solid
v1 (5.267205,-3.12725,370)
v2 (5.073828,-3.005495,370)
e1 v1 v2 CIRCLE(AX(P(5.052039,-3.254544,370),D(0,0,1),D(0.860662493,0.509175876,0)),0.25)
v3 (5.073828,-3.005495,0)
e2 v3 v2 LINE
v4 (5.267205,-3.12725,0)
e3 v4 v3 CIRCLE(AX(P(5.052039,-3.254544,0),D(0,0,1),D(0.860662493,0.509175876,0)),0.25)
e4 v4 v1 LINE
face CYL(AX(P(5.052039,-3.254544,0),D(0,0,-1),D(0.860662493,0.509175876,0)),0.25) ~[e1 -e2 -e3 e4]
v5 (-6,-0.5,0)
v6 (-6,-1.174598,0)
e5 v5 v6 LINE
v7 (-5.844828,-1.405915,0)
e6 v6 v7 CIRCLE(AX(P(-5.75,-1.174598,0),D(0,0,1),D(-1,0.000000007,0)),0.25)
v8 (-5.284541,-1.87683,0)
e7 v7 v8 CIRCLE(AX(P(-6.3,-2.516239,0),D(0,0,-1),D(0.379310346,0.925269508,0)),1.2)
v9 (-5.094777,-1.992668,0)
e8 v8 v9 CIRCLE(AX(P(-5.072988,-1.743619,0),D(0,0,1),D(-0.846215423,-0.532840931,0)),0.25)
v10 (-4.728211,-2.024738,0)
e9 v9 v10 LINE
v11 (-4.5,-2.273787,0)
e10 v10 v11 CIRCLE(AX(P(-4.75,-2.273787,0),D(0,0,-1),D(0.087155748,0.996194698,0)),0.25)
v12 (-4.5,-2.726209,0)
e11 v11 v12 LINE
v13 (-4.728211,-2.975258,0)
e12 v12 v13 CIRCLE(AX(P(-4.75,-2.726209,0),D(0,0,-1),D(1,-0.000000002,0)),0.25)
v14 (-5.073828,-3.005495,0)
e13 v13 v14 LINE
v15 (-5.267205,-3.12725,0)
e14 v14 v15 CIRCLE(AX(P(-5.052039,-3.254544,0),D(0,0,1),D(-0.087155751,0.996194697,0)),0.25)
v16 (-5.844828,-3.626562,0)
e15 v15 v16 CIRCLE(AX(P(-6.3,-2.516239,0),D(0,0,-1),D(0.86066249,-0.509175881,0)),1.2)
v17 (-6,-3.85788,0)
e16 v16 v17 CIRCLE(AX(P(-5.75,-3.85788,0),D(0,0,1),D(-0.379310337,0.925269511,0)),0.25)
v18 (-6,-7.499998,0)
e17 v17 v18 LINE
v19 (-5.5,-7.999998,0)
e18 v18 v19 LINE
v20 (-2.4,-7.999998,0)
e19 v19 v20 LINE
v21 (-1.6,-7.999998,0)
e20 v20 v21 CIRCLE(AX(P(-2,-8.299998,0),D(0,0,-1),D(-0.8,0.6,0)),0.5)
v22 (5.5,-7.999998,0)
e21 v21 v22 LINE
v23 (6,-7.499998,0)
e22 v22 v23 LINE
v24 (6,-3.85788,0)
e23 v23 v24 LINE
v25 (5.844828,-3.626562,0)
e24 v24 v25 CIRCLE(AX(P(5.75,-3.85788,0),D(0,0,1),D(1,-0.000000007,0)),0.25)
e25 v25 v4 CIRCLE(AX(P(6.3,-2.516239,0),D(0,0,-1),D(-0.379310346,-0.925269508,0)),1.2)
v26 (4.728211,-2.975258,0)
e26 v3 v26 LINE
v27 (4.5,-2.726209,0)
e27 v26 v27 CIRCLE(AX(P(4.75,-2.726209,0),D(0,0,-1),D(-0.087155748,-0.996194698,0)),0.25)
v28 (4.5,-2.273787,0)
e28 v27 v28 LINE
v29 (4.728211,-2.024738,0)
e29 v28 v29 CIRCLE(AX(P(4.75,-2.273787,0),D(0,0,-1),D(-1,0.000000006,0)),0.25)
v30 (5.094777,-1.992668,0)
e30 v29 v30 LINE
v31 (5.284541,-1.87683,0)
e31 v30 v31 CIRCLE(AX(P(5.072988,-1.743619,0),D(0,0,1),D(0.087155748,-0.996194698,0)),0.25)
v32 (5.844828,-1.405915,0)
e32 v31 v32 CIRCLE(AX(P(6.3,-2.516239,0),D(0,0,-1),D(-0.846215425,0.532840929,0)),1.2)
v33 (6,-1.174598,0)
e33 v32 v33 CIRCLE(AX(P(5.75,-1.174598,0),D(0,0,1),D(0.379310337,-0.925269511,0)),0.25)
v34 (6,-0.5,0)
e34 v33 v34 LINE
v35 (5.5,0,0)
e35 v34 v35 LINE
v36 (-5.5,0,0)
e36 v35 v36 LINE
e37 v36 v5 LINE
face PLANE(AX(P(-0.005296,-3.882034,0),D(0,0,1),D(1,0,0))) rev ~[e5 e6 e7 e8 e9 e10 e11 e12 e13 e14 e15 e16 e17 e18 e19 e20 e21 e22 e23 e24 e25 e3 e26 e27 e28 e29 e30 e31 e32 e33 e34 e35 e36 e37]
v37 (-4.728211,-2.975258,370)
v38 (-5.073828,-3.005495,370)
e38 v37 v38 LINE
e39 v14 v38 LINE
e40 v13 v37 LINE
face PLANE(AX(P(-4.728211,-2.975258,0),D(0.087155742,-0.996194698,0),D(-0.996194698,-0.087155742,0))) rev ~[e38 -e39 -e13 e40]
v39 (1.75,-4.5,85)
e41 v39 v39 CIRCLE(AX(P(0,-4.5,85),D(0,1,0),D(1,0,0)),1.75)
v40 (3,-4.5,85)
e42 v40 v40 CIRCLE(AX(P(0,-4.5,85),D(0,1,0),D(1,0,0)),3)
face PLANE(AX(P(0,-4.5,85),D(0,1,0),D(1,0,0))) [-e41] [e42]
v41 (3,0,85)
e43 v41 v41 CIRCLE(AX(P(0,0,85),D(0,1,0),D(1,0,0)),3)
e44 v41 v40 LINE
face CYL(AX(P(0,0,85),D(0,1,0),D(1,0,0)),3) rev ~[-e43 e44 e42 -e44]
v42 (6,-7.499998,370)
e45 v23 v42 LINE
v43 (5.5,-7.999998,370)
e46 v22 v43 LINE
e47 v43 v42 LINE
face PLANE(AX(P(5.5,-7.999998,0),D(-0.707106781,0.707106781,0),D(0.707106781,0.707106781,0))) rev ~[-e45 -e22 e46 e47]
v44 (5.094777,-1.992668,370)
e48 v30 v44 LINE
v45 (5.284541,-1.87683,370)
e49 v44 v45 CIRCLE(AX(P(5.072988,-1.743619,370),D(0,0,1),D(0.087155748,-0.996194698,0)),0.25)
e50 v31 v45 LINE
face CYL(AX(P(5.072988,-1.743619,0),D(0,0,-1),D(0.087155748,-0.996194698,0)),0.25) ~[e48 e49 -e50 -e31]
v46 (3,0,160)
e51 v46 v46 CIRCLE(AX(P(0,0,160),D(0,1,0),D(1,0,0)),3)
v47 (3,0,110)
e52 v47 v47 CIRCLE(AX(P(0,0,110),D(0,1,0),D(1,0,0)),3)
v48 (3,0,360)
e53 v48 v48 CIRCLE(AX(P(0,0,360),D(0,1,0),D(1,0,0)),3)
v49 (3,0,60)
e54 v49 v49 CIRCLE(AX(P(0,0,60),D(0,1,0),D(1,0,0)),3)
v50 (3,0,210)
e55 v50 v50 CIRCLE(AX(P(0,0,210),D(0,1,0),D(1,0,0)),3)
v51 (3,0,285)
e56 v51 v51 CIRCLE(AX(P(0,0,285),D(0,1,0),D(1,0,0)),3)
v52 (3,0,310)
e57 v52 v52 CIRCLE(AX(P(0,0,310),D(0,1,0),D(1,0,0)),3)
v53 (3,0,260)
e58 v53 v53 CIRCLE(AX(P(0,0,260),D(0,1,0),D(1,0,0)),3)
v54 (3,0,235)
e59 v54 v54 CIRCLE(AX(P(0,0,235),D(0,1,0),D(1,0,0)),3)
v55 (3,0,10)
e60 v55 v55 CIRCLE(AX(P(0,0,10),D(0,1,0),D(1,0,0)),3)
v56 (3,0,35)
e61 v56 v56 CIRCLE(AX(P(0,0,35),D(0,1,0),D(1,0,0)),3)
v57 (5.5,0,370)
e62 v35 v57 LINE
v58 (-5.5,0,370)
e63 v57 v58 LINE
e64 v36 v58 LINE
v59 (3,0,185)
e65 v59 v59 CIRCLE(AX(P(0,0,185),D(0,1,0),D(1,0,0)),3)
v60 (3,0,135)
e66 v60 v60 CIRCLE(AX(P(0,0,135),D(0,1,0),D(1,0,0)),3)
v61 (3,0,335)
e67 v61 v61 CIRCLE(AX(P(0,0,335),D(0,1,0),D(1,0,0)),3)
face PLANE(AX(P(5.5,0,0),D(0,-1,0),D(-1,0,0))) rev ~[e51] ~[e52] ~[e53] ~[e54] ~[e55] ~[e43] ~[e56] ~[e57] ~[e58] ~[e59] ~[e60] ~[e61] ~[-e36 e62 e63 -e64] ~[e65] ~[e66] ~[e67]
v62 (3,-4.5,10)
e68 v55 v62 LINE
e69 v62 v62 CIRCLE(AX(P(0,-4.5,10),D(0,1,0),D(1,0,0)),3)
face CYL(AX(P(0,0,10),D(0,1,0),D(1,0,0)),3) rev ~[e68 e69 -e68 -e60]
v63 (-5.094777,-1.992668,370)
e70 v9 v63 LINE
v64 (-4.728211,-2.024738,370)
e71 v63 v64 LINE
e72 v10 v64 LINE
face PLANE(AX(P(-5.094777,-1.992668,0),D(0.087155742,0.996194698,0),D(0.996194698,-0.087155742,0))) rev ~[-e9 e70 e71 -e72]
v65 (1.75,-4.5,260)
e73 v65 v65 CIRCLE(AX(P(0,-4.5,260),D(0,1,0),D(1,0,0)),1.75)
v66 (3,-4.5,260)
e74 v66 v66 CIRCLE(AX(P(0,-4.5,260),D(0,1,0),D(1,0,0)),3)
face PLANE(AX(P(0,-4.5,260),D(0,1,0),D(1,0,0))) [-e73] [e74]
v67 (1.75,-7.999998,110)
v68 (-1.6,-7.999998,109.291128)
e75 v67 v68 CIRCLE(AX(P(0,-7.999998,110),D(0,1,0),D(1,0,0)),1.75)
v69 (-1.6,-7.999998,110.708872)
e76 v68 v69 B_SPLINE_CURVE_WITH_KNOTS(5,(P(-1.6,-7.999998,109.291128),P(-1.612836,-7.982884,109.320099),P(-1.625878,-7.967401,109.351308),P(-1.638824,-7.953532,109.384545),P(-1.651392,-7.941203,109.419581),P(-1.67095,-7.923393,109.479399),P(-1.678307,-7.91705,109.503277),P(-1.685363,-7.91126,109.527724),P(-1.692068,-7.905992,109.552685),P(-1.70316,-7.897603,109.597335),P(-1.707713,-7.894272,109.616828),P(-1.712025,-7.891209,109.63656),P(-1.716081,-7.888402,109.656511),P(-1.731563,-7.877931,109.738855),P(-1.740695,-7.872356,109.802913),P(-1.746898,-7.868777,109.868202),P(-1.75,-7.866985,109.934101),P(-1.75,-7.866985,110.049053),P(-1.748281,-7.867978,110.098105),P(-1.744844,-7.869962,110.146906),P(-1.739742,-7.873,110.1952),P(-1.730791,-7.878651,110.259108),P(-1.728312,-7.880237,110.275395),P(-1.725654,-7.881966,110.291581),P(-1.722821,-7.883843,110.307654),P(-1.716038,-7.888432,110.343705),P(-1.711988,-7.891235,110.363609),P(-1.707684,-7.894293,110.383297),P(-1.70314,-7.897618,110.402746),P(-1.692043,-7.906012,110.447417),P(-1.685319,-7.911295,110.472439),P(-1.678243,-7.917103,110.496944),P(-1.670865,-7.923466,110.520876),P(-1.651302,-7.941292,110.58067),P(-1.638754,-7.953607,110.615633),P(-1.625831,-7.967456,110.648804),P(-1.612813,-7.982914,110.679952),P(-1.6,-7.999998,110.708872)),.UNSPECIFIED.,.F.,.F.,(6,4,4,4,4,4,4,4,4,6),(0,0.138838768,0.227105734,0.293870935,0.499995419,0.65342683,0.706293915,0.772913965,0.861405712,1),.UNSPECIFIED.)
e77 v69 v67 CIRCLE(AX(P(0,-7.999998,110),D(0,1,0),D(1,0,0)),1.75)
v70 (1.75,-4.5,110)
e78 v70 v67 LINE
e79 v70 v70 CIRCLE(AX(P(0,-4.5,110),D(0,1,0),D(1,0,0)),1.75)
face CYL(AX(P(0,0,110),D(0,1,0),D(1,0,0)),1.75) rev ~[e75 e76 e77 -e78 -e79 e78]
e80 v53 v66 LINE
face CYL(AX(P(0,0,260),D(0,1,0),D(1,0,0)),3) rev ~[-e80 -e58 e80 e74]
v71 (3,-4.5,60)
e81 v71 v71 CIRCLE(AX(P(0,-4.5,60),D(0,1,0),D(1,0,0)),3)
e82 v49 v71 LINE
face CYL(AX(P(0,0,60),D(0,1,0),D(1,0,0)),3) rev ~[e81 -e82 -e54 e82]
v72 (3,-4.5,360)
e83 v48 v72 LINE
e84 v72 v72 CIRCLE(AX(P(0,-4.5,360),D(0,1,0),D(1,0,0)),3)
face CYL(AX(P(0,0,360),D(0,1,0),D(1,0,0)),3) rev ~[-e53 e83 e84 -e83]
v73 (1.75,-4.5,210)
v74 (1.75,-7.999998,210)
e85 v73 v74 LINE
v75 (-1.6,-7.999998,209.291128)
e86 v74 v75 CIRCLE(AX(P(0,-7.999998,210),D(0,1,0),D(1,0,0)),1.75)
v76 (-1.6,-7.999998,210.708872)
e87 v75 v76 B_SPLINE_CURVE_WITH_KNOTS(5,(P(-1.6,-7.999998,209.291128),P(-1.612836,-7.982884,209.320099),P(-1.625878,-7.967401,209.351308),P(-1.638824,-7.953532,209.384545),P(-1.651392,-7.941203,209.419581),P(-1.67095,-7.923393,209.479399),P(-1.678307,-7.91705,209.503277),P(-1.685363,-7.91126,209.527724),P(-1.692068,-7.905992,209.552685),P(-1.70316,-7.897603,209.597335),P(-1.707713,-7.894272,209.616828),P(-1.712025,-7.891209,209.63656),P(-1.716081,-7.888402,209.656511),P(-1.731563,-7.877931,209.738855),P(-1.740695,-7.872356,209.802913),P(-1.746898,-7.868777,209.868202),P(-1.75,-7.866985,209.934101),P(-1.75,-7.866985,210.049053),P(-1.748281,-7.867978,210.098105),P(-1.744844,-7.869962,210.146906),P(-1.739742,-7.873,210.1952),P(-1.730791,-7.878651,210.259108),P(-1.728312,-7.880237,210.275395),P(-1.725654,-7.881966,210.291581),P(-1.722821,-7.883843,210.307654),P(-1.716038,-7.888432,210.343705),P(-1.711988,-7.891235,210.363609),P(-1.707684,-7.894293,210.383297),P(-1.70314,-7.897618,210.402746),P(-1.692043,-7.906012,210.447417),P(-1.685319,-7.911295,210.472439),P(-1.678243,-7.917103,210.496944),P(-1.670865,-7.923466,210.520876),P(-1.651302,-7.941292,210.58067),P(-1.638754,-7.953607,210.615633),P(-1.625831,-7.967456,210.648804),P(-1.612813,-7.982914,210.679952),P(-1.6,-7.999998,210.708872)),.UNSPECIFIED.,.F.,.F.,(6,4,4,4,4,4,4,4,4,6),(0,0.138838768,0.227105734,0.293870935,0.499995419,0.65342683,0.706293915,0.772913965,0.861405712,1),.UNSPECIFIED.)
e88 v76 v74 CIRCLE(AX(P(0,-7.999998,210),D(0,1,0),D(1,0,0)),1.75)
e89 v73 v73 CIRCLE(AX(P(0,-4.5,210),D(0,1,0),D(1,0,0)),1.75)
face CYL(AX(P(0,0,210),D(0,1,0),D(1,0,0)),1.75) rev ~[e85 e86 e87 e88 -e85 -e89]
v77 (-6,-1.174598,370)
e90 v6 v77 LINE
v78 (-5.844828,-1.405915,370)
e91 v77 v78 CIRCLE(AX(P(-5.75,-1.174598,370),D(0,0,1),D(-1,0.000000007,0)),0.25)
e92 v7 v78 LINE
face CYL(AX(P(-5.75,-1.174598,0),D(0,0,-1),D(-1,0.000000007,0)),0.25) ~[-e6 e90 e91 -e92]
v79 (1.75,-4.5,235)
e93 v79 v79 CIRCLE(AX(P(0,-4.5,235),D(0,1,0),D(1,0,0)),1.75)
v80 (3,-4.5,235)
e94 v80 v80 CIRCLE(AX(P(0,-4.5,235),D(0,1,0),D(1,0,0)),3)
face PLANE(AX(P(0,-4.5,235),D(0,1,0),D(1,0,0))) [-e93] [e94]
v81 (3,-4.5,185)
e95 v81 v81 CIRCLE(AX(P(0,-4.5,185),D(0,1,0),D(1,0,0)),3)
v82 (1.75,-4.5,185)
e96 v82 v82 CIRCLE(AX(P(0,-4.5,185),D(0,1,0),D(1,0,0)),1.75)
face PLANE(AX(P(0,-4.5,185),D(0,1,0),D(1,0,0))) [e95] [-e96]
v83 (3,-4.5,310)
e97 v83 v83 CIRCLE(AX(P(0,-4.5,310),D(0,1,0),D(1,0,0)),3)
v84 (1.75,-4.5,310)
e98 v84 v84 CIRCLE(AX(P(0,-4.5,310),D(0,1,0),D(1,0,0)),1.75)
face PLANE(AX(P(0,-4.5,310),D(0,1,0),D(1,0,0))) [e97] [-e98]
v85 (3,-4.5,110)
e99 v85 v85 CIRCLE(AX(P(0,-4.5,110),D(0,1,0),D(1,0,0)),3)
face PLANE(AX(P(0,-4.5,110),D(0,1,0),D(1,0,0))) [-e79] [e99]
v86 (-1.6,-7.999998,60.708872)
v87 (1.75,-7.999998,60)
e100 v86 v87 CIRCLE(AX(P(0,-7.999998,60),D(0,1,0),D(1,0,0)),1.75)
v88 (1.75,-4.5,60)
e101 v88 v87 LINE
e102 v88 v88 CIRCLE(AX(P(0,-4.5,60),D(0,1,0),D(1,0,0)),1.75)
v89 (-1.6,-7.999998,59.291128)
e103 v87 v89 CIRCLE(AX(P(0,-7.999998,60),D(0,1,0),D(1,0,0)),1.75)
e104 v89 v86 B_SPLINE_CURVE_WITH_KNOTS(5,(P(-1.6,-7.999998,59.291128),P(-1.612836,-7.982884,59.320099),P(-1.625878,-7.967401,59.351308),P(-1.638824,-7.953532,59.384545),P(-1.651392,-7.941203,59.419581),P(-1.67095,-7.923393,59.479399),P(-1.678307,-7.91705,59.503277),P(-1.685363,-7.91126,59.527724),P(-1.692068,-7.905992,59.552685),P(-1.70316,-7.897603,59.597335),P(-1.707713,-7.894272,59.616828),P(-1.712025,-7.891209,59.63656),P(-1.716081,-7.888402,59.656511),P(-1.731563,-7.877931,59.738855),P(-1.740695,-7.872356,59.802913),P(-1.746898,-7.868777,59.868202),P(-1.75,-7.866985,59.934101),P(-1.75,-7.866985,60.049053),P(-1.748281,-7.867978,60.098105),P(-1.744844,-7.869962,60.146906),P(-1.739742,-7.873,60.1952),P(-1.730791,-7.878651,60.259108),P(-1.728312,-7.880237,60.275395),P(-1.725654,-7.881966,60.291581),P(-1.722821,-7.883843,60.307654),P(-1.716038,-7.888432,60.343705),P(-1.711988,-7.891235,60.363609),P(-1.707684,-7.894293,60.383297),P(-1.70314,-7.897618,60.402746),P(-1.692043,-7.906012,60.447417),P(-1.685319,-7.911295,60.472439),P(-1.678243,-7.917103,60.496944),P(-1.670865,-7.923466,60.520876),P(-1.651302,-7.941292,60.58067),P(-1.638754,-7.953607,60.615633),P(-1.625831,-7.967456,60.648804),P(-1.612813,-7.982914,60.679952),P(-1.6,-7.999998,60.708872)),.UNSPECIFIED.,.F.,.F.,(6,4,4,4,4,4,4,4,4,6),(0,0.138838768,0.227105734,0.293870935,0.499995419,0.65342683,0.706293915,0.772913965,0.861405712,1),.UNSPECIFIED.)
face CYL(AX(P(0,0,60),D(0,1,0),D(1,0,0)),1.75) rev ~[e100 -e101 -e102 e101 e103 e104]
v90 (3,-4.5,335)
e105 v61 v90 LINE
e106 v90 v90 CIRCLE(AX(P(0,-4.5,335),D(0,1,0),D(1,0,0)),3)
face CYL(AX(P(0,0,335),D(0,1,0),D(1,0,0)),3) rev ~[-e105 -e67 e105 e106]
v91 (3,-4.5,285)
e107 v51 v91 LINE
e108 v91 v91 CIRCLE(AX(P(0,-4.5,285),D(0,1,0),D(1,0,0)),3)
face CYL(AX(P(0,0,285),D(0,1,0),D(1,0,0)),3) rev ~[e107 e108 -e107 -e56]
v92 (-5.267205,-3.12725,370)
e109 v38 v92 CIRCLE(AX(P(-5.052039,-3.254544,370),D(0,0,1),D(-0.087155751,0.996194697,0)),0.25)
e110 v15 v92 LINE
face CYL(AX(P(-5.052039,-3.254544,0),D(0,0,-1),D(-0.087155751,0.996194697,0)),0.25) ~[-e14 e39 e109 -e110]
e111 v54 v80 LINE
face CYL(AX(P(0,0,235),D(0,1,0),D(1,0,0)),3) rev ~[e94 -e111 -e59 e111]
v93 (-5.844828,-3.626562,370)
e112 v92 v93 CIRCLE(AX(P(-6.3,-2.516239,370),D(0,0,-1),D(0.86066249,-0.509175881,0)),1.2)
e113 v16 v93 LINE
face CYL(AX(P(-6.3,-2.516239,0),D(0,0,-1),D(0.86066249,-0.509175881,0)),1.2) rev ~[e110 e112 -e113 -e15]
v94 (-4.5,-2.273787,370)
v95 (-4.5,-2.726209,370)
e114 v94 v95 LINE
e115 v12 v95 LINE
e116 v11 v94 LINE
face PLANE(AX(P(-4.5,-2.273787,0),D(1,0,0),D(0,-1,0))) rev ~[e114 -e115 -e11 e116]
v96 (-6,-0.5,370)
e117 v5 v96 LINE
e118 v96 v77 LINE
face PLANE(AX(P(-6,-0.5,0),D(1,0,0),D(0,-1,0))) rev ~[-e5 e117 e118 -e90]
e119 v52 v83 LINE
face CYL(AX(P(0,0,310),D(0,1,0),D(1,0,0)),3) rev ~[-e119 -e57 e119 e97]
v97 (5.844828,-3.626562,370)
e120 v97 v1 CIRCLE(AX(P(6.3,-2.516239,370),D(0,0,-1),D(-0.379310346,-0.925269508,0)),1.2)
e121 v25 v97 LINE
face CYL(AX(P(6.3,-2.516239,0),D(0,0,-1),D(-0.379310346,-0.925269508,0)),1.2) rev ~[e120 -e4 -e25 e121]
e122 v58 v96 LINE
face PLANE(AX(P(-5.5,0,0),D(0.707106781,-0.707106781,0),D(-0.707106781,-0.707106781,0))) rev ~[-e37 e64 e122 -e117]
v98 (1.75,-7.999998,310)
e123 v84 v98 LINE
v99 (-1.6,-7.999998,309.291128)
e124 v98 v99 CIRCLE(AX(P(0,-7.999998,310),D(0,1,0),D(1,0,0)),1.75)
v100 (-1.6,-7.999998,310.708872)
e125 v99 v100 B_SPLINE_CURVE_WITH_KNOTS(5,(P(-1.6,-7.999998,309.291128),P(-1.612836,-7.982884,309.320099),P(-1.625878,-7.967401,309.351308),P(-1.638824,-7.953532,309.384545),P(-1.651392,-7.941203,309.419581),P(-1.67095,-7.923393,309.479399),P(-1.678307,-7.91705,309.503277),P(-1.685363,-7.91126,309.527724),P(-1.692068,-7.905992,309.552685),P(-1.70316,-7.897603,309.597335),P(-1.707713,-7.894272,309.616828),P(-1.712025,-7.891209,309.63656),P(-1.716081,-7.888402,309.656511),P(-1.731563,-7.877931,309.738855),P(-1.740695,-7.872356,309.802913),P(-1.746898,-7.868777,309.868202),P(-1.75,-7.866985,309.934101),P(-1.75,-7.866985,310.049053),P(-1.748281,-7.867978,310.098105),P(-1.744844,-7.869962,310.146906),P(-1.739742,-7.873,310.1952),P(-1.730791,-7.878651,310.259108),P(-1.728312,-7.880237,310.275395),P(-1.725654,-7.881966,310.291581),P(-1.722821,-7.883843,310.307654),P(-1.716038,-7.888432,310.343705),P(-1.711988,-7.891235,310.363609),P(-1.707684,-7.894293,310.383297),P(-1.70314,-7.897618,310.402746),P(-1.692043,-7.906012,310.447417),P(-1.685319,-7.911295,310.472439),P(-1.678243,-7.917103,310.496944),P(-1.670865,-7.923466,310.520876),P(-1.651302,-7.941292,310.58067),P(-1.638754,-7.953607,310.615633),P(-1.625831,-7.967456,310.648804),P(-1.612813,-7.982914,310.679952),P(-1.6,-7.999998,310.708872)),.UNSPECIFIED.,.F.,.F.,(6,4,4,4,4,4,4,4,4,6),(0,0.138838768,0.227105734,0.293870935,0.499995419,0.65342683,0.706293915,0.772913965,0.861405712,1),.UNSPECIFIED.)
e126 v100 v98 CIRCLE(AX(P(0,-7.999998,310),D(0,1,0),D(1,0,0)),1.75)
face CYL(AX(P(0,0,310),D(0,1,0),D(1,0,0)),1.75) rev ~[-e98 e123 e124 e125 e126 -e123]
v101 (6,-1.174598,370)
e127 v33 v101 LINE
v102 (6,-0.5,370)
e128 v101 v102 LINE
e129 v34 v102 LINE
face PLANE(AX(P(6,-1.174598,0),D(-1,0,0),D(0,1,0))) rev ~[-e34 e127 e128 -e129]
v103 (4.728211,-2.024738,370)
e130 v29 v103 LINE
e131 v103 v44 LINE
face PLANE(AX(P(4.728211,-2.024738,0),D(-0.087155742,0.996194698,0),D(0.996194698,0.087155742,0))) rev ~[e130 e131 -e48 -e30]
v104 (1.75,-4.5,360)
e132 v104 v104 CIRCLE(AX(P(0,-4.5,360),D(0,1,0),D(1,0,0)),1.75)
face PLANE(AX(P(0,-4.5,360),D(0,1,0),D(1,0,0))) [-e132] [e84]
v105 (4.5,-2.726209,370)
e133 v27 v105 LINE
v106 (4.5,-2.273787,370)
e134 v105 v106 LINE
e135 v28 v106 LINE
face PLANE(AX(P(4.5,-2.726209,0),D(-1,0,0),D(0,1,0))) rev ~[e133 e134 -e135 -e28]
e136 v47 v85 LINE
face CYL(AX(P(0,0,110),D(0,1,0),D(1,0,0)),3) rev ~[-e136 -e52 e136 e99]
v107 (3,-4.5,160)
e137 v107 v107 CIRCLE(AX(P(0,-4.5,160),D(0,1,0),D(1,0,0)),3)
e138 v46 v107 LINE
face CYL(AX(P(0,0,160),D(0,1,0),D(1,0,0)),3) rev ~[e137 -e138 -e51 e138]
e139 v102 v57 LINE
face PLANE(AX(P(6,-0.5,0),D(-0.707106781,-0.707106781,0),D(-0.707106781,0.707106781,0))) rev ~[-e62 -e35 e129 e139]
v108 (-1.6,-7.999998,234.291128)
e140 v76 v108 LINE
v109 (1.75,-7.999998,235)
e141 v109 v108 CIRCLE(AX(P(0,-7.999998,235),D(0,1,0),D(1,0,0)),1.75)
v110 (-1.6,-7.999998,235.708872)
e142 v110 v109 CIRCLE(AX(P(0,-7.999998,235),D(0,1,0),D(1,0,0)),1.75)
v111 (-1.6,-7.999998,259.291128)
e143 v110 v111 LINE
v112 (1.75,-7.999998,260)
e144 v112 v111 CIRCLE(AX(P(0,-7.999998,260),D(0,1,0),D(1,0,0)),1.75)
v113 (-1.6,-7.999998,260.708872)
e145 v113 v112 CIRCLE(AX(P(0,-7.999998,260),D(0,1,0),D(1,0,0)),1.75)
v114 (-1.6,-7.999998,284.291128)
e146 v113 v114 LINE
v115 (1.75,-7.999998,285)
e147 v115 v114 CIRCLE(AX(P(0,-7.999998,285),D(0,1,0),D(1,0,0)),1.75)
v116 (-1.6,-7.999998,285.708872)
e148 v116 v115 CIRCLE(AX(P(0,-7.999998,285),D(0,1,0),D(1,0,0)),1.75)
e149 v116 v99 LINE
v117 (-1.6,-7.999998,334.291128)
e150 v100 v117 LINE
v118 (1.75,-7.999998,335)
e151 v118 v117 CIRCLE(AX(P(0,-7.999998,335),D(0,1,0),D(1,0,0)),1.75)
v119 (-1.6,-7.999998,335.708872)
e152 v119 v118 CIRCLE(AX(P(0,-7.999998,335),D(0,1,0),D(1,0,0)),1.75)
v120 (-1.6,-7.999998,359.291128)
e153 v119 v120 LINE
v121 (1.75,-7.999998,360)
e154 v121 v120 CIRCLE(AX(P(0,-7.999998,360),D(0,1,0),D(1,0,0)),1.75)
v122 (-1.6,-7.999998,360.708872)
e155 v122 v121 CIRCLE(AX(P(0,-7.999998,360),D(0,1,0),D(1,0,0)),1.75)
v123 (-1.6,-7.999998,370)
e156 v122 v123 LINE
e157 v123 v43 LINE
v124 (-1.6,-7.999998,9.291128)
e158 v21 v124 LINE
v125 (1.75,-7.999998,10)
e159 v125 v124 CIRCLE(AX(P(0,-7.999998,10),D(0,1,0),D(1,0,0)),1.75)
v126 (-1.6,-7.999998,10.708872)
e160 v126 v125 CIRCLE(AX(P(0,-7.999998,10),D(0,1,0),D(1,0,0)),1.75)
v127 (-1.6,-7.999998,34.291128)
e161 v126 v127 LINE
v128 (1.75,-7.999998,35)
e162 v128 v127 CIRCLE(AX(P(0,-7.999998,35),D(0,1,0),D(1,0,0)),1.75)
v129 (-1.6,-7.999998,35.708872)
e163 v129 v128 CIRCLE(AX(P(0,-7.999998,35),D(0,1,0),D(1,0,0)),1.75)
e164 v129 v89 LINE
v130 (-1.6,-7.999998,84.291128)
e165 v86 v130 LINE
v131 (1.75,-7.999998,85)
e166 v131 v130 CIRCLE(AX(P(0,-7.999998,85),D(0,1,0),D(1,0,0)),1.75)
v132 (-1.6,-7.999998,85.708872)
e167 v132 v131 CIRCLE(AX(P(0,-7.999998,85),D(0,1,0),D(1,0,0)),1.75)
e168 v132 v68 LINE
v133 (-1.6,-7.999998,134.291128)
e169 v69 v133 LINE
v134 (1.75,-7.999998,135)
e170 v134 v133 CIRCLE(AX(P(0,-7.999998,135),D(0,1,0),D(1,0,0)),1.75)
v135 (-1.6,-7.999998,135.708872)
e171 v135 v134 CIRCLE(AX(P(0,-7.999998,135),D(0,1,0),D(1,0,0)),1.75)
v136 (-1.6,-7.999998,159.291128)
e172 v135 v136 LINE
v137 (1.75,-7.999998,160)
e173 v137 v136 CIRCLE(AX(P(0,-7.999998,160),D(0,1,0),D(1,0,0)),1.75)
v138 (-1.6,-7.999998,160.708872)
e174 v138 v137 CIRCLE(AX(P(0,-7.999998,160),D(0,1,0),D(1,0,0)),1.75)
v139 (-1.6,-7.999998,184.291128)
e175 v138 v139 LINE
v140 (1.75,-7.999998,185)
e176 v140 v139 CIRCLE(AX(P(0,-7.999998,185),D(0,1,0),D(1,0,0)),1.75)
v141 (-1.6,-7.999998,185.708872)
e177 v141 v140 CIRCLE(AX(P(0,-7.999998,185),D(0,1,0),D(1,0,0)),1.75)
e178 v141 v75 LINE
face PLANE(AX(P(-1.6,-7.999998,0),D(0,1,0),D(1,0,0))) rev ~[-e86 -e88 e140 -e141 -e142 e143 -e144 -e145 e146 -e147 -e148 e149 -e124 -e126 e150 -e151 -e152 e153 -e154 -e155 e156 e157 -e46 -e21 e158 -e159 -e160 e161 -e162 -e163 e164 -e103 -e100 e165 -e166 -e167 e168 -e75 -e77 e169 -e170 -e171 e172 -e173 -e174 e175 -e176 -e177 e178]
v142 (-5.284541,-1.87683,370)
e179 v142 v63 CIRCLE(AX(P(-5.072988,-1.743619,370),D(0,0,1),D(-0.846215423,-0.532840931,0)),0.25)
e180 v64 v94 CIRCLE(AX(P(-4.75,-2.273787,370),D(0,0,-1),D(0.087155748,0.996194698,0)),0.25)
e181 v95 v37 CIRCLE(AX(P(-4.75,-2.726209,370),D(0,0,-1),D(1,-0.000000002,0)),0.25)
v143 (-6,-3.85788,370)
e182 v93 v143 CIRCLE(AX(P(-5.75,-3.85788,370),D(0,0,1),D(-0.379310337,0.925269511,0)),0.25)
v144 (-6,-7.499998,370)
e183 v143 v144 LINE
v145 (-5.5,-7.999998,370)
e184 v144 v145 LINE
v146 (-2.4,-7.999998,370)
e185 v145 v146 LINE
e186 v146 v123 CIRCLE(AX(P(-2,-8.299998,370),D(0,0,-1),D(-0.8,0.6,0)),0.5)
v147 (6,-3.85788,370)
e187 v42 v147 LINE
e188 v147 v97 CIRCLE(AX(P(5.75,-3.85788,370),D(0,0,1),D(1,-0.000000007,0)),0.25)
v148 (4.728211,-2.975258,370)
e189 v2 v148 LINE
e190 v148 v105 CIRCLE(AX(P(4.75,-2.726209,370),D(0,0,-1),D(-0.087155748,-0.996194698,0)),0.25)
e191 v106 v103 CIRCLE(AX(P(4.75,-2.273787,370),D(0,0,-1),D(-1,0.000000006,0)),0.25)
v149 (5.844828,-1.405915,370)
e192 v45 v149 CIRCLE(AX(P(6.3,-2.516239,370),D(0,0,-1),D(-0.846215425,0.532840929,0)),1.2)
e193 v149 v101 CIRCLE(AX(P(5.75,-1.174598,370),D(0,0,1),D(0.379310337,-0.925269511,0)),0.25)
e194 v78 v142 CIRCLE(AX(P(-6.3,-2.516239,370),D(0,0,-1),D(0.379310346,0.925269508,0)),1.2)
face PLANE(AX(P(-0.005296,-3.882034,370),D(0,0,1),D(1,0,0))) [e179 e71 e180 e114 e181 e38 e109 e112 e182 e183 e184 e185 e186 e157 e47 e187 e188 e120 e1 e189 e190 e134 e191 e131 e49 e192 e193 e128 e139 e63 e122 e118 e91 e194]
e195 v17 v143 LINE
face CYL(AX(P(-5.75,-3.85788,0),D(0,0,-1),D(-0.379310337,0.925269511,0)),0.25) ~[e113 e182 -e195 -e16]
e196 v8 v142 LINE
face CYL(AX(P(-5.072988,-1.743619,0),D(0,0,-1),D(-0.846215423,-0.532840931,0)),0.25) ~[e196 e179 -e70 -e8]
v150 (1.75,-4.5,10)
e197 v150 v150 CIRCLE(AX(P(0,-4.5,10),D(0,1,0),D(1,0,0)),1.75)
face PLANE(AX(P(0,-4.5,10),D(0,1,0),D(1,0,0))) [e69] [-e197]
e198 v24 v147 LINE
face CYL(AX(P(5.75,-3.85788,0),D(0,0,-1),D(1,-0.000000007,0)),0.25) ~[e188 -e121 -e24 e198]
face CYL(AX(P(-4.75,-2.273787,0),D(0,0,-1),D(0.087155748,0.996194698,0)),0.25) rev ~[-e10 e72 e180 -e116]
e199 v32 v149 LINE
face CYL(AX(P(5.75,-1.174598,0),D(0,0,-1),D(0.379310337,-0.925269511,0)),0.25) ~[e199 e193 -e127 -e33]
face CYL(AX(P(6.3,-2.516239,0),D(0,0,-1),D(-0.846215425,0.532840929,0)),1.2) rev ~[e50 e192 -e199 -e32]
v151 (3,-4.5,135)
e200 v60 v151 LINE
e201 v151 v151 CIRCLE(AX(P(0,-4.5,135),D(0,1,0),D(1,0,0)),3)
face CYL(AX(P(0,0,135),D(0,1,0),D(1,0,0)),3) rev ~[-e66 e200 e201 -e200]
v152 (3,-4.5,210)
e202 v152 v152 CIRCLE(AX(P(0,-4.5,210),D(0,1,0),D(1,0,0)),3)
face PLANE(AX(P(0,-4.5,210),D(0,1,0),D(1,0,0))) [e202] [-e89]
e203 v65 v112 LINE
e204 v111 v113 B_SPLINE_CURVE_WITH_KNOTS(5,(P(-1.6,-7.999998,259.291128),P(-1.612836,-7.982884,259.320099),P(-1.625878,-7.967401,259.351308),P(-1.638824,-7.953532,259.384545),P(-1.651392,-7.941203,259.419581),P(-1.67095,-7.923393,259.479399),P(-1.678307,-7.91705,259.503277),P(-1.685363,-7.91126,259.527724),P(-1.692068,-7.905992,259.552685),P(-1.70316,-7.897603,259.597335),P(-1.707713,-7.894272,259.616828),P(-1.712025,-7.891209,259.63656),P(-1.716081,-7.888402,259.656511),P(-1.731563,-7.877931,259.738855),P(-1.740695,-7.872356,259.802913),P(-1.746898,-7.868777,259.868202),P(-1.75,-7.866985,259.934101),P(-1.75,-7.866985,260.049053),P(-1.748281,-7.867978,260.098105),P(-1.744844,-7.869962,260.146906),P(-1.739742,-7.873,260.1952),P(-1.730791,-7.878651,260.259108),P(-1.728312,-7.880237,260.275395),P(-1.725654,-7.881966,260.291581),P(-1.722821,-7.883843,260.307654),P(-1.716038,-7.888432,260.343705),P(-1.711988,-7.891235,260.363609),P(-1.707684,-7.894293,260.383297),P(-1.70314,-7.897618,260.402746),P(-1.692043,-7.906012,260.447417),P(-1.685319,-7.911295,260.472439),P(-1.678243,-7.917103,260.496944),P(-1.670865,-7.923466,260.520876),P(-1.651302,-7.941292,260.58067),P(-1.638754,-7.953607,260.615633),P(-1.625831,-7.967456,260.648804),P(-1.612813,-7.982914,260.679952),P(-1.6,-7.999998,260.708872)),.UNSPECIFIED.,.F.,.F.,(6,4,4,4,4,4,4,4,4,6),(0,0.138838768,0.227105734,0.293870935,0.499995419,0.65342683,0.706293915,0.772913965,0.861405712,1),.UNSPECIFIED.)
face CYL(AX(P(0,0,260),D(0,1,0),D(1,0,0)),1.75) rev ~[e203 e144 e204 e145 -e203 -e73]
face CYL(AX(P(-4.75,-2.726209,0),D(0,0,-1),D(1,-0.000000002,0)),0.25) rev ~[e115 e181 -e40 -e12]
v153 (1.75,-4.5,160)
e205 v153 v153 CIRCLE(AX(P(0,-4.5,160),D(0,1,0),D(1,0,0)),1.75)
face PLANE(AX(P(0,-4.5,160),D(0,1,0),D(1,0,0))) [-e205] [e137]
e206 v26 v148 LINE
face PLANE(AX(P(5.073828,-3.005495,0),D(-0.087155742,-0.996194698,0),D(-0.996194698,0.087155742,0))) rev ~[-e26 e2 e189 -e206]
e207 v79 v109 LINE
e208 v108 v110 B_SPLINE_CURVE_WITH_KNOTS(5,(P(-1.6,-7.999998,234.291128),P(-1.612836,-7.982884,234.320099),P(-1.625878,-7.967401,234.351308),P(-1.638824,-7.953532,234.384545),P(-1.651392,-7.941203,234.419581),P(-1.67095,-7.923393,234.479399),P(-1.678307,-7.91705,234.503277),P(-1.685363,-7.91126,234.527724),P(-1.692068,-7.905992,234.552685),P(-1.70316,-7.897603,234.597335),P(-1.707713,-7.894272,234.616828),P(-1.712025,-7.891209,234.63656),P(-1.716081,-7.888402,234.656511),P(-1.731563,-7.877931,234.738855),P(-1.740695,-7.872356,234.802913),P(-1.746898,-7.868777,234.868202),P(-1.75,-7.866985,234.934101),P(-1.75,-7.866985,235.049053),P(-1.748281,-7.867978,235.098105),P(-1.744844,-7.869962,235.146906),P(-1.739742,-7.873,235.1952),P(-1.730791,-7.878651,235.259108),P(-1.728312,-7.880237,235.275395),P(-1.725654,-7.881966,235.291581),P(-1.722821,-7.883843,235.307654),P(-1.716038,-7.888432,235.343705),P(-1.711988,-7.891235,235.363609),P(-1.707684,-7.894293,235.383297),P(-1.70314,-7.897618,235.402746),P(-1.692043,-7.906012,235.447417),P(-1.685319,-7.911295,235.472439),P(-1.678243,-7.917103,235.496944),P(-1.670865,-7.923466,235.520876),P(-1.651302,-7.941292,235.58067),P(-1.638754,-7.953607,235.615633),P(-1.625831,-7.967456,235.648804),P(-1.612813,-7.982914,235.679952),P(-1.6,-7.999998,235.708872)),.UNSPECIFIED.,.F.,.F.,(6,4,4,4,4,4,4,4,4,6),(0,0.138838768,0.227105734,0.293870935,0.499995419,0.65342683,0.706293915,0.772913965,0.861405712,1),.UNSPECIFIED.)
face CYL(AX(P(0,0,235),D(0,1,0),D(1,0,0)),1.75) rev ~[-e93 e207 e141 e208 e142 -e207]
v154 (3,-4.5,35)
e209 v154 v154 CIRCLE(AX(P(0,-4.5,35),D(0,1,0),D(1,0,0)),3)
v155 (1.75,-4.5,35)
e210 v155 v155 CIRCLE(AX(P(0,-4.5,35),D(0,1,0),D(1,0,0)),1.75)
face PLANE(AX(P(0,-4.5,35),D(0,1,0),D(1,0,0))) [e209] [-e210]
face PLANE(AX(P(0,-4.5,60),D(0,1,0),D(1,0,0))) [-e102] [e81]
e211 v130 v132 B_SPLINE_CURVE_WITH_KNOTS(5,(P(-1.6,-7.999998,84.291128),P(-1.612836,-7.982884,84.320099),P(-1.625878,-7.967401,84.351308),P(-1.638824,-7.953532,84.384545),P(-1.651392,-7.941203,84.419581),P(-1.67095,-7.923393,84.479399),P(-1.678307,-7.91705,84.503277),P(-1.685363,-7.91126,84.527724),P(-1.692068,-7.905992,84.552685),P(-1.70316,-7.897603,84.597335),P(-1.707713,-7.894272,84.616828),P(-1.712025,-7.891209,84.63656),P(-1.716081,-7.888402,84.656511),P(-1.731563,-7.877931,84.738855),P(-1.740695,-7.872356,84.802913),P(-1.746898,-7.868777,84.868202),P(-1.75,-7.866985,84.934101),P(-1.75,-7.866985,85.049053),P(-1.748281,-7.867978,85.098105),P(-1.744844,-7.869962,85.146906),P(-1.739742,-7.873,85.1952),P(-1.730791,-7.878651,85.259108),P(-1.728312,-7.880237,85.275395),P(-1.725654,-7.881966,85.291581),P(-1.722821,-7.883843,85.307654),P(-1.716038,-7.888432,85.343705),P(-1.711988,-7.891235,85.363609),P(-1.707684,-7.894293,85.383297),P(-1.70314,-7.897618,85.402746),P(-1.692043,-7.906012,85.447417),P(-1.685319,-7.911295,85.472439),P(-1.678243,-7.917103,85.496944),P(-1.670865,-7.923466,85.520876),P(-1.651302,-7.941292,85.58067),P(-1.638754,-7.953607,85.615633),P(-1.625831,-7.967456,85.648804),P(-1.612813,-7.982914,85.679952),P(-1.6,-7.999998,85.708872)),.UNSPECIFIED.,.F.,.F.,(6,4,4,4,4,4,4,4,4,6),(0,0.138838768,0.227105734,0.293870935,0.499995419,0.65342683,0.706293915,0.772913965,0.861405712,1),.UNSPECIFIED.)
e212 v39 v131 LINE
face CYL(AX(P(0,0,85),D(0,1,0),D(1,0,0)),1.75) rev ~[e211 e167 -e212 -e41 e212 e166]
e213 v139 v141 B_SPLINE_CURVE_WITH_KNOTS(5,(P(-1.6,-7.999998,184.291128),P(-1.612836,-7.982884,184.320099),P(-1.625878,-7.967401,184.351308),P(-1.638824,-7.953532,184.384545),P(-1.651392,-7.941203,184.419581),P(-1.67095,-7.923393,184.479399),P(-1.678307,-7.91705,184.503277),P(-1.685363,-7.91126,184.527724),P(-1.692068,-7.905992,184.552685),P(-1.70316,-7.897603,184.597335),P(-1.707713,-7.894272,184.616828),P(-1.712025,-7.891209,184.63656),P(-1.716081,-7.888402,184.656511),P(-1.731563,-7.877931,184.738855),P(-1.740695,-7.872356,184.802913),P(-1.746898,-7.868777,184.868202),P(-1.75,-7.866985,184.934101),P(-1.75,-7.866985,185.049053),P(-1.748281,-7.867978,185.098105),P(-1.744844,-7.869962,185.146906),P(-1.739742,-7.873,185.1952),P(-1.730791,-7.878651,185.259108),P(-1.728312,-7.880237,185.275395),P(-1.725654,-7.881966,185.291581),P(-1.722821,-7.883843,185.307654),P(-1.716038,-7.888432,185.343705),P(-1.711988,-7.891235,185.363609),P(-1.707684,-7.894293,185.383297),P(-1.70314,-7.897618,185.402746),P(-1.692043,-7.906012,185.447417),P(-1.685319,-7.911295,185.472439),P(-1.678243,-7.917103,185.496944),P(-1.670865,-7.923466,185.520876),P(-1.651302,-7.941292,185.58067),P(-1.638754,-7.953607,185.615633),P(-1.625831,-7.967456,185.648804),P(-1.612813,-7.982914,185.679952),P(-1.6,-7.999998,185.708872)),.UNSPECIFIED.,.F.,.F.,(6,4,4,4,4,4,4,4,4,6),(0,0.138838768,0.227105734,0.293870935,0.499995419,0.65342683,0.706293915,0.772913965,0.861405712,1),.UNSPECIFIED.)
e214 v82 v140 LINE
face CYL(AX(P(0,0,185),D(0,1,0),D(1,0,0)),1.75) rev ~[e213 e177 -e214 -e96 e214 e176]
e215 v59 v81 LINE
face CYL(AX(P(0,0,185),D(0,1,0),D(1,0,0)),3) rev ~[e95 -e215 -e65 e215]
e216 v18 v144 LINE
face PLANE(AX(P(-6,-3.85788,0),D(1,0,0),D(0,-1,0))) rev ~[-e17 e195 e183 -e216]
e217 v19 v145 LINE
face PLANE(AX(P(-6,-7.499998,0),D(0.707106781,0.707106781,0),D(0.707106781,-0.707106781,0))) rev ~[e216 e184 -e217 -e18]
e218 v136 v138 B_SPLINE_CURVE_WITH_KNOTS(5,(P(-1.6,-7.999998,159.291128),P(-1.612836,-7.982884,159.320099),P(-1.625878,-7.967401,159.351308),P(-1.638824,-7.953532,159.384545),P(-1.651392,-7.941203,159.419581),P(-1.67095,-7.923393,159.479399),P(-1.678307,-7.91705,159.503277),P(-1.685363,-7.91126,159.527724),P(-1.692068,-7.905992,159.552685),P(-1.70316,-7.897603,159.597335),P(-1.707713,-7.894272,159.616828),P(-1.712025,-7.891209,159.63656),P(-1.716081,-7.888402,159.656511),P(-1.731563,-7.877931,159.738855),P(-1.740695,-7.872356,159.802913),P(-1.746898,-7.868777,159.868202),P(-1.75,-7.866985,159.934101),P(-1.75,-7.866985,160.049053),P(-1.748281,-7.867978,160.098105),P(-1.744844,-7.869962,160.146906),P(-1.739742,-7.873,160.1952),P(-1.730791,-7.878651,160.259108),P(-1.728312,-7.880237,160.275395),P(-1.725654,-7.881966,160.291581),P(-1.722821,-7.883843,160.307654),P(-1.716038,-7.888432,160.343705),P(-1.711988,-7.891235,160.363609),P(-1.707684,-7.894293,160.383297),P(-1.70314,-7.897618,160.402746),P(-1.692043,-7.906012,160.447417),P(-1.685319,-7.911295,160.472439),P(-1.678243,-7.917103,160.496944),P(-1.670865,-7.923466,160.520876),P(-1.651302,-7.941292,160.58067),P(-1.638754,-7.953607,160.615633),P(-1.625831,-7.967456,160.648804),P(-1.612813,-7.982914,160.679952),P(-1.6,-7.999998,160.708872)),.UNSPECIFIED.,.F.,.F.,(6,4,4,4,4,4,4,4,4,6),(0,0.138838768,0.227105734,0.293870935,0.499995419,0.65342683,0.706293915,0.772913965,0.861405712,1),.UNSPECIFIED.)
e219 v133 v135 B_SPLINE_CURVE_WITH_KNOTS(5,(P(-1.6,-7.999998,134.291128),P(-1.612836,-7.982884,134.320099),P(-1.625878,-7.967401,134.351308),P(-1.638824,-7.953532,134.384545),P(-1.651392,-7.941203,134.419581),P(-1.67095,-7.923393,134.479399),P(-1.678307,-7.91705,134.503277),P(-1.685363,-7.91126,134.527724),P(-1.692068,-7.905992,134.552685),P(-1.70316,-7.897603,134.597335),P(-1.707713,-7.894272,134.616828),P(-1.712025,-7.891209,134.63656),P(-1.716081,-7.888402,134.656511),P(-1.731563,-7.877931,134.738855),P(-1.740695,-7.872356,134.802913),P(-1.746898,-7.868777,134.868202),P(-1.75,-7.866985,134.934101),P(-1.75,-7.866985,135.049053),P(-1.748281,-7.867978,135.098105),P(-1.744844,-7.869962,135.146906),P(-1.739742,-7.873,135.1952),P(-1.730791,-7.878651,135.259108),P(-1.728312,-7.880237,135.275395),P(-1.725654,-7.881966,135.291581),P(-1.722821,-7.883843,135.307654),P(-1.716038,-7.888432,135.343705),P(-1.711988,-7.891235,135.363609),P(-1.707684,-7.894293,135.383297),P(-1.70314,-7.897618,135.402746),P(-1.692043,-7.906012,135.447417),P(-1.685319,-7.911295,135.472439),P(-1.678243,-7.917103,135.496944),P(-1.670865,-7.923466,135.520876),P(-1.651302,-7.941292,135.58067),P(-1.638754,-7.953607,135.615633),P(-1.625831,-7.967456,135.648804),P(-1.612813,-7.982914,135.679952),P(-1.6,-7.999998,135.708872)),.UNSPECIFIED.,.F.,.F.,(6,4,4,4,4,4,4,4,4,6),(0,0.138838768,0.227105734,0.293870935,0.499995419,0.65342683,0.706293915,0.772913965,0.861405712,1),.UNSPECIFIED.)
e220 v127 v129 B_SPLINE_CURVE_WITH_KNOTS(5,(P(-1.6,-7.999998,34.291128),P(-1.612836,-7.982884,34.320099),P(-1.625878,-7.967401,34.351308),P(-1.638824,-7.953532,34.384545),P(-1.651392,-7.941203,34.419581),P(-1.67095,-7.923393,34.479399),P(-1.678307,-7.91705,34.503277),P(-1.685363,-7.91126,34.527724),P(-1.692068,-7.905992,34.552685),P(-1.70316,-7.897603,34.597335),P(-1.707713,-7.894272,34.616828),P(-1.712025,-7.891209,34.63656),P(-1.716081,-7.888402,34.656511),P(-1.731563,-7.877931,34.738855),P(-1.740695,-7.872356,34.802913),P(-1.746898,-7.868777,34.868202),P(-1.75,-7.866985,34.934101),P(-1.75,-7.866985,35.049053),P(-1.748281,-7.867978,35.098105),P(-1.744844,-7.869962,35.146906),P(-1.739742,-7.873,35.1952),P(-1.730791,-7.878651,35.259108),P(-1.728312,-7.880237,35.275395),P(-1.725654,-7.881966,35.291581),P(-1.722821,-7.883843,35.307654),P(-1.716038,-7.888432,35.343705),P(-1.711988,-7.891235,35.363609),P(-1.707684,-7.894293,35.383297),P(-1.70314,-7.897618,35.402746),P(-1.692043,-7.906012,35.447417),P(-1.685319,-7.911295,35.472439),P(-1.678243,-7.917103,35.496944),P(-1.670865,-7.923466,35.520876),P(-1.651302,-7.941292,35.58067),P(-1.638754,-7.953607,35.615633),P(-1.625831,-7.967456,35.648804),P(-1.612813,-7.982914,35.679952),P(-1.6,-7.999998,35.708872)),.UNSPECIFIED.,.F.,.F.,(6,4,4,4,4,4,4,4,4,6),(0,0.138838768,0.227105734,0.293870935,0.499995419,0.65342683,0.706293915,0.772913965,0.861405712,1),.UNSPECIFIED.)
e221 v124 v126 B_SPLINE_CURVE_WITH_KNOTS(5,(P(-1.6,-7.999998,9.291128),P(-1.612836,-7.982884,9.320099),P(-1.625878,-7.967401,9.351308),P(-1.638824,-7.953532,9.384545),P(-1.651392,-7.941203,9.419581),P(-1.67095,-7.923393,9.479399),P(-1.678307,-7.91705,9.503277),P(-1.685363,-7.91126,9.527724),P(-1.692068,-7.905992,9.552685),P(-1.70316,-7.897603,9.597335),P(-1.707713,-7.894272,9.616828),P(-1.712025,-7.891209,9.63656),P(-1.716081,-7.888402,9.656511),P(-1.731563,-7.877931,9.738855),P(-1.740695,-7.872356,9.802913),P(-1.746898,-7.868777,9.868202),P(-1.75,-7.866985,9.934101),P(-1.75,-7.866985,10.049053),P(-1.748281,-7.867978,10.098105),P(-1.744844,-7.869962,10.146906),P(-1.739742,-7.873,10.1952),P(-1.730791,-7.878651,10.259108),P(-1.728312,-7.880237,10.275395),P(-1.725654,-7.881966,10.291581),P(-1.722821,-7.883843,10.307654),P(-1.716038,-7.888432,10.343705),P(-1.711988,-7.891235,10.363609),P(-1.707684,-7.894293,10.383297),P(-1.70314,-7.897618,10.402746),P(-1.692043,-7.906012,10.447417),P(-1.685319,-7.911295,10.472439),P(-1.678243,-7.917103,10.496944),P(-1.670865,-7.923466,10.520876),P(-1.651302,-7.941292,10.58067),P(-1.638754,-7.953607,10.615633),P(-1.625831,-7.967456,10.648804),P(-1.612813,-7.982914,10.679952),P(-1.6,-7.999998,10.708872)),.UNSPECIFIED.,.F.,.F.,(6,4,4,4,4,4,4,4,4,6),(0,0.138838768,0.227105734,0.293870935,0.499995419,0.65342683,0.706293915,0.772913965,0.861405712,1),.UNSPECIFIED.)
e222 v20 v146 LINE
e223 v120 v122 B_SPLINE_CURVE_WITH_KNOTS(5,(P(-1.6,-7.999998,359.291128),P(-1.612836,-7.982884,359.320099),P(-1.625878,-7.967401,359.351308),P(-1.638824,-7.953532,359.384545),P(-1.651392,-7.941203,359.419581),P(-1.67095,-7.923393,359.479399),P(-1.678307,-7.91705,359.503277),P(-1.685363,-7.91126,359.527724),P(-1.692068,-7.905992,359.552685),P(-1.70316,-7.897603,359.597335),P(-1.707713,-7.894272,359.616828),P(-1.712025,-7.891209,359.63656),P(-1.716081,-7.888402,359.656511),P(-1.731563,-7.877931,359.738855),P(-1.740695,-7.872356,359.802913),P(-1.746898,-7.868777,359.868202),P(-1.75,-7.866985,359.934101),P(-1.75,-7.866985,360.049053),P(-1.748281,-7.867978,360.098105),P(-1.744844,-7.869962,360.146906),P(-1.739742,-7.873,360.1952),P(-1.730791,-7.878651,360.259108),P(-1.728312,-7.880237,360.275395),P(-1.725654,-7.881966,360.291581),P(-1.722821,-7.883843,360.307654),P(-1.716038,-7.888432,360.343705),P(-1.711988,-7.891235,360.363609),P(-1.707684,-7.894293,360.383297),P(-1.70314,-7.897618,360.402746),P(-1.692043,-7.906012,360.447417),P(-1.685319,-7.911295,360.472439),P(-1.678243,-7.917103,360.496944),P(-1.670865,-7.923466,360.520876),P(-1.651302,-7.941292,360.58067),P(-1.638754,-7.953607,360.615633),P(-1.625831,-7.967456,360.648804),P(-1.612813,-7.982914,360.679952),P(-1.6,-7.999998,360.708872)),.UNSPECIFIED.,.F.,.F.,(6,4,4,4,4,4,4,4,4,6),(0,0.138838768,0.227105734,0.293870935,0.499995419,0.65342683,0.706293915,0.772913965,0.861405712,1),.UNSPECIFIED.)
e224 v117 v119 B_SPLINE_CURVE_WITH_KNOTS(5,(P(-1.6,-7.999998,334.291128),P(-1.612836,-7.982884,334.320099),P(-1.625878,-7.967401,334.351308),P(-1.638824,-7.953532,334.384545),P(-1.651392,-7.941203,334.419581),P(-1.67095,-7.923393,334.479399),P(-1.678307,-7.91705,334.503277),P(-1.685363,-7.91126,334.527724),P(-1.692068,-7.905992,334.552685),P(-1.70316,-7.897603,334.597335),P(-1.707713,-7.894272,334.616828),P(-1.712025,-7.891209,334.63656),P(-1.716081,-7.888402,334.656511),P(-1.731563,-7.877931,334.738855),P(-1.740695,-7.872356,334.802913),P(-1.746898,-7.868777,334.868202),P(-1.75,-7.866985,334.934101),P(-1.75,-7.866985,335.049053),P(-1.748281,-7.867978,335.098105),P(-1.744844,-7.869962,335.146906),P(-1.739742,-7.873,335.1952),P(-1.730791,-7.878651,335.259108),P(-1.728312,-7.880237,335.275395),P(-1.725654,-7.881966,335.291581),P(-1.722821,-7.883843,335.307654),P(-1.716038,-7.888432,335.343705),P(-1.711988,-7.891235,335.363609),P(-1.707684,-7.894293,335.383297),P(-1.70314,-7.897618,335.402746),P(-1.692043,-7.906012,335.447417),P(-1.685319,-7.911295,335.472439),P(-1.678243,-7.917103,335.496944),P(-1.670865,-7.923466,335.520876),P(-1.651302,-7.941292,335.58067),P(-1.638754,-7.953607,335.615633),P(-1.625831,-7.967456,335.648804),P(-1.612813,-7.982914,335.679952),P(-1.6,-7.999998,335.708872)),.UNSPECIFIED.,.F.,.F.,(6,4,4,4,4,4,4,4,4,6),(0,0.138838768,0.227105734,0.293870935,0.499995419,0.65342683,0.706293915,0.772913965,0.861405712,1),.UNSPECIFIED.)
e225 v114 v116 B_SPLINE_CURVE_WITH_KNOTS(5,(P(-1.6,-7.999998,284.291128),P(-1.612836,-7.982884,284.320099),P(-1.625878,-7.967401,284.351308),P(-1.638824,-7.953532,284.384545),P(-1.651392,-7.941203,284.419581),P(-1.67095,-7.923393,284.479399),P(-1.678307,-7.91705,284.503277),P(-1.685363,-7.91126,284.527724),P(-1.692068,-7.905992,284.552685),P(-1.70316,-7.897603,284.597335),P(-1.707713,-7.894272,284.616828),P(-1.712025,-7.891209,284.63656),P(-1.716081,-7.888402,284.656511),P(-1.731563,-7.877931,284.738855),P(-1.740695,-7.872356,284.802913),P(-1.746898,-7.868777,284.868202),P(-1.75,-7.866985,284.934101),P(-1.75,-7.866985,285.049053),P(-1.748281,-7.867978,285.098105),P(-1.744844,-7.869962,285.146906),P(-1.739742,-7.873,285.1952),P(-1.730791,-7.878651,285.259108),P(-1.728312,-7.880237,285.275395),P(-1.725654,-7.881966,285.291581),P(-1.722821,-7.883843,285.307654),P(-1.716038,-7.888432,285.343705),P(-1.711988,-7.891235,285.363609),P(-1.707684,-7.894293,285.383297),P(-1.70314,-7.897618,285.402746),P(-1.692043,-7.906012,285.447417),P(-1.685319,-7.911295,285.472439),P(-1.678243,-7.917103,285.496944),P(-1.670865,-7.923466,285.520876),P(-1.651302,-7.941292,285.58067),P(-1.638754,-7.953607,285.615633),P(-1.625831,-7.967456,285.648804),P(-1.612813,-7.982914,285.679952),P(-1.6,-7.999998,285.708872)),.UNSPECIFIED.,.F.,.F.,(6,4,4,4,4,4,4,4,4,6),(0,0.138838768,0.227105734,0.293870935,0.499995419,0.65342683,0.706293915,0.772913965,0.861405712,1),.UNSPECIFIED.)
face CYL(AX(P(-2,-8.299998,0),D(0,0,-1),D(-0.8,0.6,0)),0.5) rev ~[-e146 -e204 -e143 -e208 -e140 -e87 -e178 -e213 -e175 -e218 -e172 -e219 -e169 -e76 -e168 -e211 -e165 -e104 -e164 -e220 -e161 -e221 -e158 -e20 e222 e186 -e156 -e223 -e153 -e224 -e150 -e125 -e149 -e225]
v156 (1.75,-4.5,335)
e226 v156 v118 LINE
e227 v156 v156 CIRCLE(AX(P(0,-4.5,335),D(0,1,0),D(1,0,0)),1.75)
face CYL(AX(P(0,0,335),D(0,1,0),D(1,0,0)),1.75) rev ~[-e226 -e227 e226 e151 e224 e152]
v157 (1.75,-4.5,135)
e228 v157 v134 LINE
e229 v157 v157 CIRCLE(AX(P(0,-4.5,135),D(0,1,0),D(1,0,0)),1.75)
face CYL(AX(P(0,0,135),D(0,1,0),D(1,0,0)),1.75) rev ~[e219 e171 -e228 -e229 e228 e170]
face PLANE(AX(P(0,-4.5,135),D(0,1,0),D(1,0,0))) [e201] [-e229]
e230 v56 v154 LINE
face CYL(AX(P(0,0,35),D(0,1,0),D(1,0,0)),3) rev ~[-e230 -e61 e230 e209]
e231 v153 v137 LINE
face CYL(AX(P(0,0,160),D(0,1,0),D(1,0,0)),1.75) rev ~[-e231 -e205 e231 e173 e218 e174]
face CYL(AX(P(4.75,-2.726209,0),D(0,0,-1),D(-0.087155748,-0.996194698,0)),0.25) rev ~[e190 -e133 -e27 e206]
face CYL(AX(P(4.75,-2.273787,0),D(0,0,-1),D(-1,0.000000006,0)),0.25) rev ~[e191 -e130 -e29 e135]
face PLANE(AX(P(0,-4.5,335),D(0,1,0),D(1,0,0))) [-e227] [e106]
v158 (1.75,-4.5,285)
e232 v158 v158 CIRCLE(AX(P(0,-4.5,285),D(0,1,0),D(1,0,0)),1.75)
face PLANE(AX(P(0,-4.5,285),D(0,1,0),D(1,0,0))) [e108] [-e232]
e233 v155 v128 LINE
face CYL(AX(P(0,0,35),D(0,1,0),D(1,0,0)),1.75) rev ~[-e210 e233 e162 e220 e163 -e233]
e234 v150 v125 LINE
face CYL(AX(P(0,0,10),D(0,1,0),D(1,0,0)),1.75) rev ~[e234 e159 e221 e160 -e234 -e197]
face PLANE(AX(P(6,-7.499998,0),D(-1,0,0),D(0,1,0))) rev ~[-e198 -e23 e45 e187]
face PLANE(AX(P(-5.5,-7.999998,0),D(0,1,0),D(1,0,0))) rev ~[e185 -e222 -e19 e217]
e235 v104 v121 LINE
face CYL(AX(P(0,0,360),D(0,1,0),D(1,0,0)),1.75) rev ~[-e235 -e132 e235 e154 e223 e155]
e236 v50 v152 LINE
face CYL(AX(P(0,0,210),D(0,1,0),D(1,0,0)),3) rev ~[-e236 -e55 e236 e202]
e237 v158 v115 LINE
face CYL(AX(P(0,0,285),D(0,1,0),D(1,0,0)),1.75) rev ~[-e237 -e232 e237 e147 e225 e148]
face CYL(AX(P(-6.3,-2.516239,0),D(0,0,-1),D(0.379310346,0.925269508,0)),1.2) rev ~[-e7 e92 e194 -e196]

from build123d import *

# Parameters (mm, degrees)
BOSS_EXTRUDE1_DEPTH = 370
SKETCH2_R           = 1.75
CUT_EXTRUDE1_DEPTH  = 8.999998
SKETCH2_3_R         = 3
CUT_EXTRUDE2_DEPTH  = 4.5


with BuildPart() as part:
    # Sketch1 → Boss-Extrude1 (new body)
    with BuildSketch(Plane.XY):
        with BuildLine():
            Line((5.5, -7.999998), (6, -7.499998))
            Line((6, -7.499998), (6, -3.85787958))
            ThreePointArc((6, -3.85787958), (5.9576137, -3.718608076), (5.844827586, -3.626562203))
            ThreePointArc((5.844827586, -3.626562203), (5.51524529, -3.424071402), (5.267205011, -3.12724985))
            ThreePointArc((5.267205011, -3.12724985), (5.185241933, -3.042985123), (5.073828324, -3.005495145))
            Line((5.073828324, -3.005495145), (4.728211064, -2.975257553))
            ThreePointArc((4.728211064, -2.975257553), (4.565680666, -2.89510643), (4.5, -2.726208878))
            Line((4.5, -2.726208878), (4.5, -2.273787121))
            ThreePointArc((4.5, -2.273787121), (4.565680666, -2.10488957), (4.728211064, -2.024738447))
            Line((4.728211064, -2.024738447), (5.09477657, -1.992668121))
            ThreePointArc((5.09477657, -1.992668121), (5.203244499, -1.957004425), (5.284541491, -1.876829678))
            ThreePointArc((5.284541491, -1.876829678), (5.527906161, -1.597614221), (5.844827586, -1.405915383))
            ThreePointArc((5.844827586, -1.405915383), (5.9576137, -1.31386951), (6, -1.174598006))
            Line((6, -1.174598006), (6, -0.5))
            Line((6, -0.5), (5.5, 0))
            Line((5.5, 0), (-5.5, 0))
            Line((-5.5, 0), (-6, -0.5))
            Line((-6, -0.5), (-6, -1.174598006))
            ThreePointArc((-6, -1.174598006), (-5.9576137, -1.31386951), (-5.844827586, -1.405915383))
            ThreePointArc((-5.844827586, -1.405915383), (-5.527906161, -1.597614221), (-5.284541491, -1.876829678))
            ThreePointArc((-5.284541491, -1.876829678), (-5.203244499, -1.957004425), (-5.09477657, -1.992668121))
            Line((-5.09477657, -1.992668121), (-4.728211064, -2.024738447))
            ThreePointArc((-4.728211064, -2.024738447), (-4.565680666, -2.10488957), (-4.5, -2.273787121))
            Line((-4.5, -2.273787121), (-4.5, -2.726208878))
            ThreePointArc((-4.5, -2.726208878), (-4.565680666, -2.89510643), (-4.728211064, -2.975257553))
            Line((-4.728211064, -2.975257553), (-5.073828324, -3.005495145))
            ThreePointArc((-5.073828324, -3.005495145), (-5.185241932, -3.042985123), (-5.267205011, -3.12724985))
            ThreePointArc((-5.267205011, -3.12724985), (-5.51524529, -3.424071402), (-5.844827586, -3.626562203))
            ThreePointArc((-5.844827586, -3.626562203), (-5.9576137, -3.718608076), (-6, -3.85787958))
            Line((-6, -3.85787958), (-6, -7.499998))
            Line((-6, -7.499998), (-5.5, -7.999998))
            Line((-5.5, -7.999998), (-2.4, -7.999998))
            ThreePointArc((-2.4, -7.999998), (-2, -7.799998), (-1.6, -7.999998))
            Line((-1.6, -7.999998), (5.5, -7.999998))
        make_face()
    extrude(amount=BOSS_EXTRUDE1_DEPTH)

    # Sketch2 → Cut-Extrude1 (cut, through all)
    with BuildSketch(Plane(origin=(0, 0, 0), x_dir=(1, 0, 0), z_dir=(0, 1, 0))):
        with Locations((0, -10)):
            Circle(SKETCH2_R)
        with Locations((0, -35)):
            Circle(SKETCH2_R)
        with Locations((0, -60)):
            Circle(SKETCH2_R)
        with Locations((0, -85)):
            Circle(SKETCH2_R)
        with Locations((0, -110)):
            Circle(SKETCH2_R)
        with Locations((0, -135)):
            Circle(SKETCH2_R)
        with Locations((0, -160)):
            Circle(SKETCH2_R)
        with Locations((0, -185)):
            Circle(SKETCH2_R)
        with Locations((0, -210)):
            Circle(SKETCH2_R)
        with Locations((0, -235)):
            Circle(SKETCH2_R)
        with Locations((0, -260)):
            Circle(SKETCH2_R)
        with Locations((0, -285)):
            Circle(SKETCH2_R)
        with Locations((0, -310)):
            Circle(SKETCH2_R)
        with Locations((0, -335)):
            Circle(SKETCH2_R)
        with Locations((0, -360)):
            Circle(SKETCH2_R)
        with Locations((0, -385)):
            Circle(SKETCH2_R)
        with Locations((0, -410)):
            Circle(SKETCH2_R)
    extrude(amount=-CUT_EXTRUDE1_DEPTH, mode=Mode.SUBTRACT)

    # Sketch2<3> → Cut-Extrude2 (cut)
    with BuildSketch(Plane(origin=(0, 0, 0), x_dir=(1, 0, 0), z_dir=(0, 1, 0))):
        with Locations((0, -10)):
            Circle(SKETCH2_3_R)
        with Locations((0, -35)):
            Circle(SKETCH2_3_R)
        with Locations((0, -60)):
            Circle(SKETCH2_3_R)
        with Locations((0, -85)):
            Circle(SKETCH2_3_R)
        with Locations((0, -110)):
            Circle(SKETCH2_3_R)
        with Locations((0, -135)):
            Circle(SKETCH2_3_R)
        with Locations((0, -160)):
            Circle(SKETCH2_3_R)
        with Locations((0, -185)):
            Circle(SKETCH2_3_R)
        with Locations((0, -210)):
            Circle(SKETCH2_3_R)
        with Locations((0, -235)):
            Circle(SKETCH2_3_R)
        with Locations((0, -260)):
            Circle(SKETCH2_3_R)
        with Locations((0, -285)):
            Circle(SKETCH2_3_R)
        with Locations((0, -310)):
            Circle(SKETCH2_3_R)
        with Locations((0, -335)):
            Circle(SKETCH2_3_R)
        with Locations((0, -360)):
            Circle(SKETCH2_3_R)
        with Locations((0, -385)):
            Circle(SKETCH2_3_R)
        with Locations((0, -410)):
            Circle(SKETCH2_3_R)
    extrude(amount=-CUT_EXTRUDE2_DEPTH, mode=Mode.SUBTRACT)


solid = part.part
